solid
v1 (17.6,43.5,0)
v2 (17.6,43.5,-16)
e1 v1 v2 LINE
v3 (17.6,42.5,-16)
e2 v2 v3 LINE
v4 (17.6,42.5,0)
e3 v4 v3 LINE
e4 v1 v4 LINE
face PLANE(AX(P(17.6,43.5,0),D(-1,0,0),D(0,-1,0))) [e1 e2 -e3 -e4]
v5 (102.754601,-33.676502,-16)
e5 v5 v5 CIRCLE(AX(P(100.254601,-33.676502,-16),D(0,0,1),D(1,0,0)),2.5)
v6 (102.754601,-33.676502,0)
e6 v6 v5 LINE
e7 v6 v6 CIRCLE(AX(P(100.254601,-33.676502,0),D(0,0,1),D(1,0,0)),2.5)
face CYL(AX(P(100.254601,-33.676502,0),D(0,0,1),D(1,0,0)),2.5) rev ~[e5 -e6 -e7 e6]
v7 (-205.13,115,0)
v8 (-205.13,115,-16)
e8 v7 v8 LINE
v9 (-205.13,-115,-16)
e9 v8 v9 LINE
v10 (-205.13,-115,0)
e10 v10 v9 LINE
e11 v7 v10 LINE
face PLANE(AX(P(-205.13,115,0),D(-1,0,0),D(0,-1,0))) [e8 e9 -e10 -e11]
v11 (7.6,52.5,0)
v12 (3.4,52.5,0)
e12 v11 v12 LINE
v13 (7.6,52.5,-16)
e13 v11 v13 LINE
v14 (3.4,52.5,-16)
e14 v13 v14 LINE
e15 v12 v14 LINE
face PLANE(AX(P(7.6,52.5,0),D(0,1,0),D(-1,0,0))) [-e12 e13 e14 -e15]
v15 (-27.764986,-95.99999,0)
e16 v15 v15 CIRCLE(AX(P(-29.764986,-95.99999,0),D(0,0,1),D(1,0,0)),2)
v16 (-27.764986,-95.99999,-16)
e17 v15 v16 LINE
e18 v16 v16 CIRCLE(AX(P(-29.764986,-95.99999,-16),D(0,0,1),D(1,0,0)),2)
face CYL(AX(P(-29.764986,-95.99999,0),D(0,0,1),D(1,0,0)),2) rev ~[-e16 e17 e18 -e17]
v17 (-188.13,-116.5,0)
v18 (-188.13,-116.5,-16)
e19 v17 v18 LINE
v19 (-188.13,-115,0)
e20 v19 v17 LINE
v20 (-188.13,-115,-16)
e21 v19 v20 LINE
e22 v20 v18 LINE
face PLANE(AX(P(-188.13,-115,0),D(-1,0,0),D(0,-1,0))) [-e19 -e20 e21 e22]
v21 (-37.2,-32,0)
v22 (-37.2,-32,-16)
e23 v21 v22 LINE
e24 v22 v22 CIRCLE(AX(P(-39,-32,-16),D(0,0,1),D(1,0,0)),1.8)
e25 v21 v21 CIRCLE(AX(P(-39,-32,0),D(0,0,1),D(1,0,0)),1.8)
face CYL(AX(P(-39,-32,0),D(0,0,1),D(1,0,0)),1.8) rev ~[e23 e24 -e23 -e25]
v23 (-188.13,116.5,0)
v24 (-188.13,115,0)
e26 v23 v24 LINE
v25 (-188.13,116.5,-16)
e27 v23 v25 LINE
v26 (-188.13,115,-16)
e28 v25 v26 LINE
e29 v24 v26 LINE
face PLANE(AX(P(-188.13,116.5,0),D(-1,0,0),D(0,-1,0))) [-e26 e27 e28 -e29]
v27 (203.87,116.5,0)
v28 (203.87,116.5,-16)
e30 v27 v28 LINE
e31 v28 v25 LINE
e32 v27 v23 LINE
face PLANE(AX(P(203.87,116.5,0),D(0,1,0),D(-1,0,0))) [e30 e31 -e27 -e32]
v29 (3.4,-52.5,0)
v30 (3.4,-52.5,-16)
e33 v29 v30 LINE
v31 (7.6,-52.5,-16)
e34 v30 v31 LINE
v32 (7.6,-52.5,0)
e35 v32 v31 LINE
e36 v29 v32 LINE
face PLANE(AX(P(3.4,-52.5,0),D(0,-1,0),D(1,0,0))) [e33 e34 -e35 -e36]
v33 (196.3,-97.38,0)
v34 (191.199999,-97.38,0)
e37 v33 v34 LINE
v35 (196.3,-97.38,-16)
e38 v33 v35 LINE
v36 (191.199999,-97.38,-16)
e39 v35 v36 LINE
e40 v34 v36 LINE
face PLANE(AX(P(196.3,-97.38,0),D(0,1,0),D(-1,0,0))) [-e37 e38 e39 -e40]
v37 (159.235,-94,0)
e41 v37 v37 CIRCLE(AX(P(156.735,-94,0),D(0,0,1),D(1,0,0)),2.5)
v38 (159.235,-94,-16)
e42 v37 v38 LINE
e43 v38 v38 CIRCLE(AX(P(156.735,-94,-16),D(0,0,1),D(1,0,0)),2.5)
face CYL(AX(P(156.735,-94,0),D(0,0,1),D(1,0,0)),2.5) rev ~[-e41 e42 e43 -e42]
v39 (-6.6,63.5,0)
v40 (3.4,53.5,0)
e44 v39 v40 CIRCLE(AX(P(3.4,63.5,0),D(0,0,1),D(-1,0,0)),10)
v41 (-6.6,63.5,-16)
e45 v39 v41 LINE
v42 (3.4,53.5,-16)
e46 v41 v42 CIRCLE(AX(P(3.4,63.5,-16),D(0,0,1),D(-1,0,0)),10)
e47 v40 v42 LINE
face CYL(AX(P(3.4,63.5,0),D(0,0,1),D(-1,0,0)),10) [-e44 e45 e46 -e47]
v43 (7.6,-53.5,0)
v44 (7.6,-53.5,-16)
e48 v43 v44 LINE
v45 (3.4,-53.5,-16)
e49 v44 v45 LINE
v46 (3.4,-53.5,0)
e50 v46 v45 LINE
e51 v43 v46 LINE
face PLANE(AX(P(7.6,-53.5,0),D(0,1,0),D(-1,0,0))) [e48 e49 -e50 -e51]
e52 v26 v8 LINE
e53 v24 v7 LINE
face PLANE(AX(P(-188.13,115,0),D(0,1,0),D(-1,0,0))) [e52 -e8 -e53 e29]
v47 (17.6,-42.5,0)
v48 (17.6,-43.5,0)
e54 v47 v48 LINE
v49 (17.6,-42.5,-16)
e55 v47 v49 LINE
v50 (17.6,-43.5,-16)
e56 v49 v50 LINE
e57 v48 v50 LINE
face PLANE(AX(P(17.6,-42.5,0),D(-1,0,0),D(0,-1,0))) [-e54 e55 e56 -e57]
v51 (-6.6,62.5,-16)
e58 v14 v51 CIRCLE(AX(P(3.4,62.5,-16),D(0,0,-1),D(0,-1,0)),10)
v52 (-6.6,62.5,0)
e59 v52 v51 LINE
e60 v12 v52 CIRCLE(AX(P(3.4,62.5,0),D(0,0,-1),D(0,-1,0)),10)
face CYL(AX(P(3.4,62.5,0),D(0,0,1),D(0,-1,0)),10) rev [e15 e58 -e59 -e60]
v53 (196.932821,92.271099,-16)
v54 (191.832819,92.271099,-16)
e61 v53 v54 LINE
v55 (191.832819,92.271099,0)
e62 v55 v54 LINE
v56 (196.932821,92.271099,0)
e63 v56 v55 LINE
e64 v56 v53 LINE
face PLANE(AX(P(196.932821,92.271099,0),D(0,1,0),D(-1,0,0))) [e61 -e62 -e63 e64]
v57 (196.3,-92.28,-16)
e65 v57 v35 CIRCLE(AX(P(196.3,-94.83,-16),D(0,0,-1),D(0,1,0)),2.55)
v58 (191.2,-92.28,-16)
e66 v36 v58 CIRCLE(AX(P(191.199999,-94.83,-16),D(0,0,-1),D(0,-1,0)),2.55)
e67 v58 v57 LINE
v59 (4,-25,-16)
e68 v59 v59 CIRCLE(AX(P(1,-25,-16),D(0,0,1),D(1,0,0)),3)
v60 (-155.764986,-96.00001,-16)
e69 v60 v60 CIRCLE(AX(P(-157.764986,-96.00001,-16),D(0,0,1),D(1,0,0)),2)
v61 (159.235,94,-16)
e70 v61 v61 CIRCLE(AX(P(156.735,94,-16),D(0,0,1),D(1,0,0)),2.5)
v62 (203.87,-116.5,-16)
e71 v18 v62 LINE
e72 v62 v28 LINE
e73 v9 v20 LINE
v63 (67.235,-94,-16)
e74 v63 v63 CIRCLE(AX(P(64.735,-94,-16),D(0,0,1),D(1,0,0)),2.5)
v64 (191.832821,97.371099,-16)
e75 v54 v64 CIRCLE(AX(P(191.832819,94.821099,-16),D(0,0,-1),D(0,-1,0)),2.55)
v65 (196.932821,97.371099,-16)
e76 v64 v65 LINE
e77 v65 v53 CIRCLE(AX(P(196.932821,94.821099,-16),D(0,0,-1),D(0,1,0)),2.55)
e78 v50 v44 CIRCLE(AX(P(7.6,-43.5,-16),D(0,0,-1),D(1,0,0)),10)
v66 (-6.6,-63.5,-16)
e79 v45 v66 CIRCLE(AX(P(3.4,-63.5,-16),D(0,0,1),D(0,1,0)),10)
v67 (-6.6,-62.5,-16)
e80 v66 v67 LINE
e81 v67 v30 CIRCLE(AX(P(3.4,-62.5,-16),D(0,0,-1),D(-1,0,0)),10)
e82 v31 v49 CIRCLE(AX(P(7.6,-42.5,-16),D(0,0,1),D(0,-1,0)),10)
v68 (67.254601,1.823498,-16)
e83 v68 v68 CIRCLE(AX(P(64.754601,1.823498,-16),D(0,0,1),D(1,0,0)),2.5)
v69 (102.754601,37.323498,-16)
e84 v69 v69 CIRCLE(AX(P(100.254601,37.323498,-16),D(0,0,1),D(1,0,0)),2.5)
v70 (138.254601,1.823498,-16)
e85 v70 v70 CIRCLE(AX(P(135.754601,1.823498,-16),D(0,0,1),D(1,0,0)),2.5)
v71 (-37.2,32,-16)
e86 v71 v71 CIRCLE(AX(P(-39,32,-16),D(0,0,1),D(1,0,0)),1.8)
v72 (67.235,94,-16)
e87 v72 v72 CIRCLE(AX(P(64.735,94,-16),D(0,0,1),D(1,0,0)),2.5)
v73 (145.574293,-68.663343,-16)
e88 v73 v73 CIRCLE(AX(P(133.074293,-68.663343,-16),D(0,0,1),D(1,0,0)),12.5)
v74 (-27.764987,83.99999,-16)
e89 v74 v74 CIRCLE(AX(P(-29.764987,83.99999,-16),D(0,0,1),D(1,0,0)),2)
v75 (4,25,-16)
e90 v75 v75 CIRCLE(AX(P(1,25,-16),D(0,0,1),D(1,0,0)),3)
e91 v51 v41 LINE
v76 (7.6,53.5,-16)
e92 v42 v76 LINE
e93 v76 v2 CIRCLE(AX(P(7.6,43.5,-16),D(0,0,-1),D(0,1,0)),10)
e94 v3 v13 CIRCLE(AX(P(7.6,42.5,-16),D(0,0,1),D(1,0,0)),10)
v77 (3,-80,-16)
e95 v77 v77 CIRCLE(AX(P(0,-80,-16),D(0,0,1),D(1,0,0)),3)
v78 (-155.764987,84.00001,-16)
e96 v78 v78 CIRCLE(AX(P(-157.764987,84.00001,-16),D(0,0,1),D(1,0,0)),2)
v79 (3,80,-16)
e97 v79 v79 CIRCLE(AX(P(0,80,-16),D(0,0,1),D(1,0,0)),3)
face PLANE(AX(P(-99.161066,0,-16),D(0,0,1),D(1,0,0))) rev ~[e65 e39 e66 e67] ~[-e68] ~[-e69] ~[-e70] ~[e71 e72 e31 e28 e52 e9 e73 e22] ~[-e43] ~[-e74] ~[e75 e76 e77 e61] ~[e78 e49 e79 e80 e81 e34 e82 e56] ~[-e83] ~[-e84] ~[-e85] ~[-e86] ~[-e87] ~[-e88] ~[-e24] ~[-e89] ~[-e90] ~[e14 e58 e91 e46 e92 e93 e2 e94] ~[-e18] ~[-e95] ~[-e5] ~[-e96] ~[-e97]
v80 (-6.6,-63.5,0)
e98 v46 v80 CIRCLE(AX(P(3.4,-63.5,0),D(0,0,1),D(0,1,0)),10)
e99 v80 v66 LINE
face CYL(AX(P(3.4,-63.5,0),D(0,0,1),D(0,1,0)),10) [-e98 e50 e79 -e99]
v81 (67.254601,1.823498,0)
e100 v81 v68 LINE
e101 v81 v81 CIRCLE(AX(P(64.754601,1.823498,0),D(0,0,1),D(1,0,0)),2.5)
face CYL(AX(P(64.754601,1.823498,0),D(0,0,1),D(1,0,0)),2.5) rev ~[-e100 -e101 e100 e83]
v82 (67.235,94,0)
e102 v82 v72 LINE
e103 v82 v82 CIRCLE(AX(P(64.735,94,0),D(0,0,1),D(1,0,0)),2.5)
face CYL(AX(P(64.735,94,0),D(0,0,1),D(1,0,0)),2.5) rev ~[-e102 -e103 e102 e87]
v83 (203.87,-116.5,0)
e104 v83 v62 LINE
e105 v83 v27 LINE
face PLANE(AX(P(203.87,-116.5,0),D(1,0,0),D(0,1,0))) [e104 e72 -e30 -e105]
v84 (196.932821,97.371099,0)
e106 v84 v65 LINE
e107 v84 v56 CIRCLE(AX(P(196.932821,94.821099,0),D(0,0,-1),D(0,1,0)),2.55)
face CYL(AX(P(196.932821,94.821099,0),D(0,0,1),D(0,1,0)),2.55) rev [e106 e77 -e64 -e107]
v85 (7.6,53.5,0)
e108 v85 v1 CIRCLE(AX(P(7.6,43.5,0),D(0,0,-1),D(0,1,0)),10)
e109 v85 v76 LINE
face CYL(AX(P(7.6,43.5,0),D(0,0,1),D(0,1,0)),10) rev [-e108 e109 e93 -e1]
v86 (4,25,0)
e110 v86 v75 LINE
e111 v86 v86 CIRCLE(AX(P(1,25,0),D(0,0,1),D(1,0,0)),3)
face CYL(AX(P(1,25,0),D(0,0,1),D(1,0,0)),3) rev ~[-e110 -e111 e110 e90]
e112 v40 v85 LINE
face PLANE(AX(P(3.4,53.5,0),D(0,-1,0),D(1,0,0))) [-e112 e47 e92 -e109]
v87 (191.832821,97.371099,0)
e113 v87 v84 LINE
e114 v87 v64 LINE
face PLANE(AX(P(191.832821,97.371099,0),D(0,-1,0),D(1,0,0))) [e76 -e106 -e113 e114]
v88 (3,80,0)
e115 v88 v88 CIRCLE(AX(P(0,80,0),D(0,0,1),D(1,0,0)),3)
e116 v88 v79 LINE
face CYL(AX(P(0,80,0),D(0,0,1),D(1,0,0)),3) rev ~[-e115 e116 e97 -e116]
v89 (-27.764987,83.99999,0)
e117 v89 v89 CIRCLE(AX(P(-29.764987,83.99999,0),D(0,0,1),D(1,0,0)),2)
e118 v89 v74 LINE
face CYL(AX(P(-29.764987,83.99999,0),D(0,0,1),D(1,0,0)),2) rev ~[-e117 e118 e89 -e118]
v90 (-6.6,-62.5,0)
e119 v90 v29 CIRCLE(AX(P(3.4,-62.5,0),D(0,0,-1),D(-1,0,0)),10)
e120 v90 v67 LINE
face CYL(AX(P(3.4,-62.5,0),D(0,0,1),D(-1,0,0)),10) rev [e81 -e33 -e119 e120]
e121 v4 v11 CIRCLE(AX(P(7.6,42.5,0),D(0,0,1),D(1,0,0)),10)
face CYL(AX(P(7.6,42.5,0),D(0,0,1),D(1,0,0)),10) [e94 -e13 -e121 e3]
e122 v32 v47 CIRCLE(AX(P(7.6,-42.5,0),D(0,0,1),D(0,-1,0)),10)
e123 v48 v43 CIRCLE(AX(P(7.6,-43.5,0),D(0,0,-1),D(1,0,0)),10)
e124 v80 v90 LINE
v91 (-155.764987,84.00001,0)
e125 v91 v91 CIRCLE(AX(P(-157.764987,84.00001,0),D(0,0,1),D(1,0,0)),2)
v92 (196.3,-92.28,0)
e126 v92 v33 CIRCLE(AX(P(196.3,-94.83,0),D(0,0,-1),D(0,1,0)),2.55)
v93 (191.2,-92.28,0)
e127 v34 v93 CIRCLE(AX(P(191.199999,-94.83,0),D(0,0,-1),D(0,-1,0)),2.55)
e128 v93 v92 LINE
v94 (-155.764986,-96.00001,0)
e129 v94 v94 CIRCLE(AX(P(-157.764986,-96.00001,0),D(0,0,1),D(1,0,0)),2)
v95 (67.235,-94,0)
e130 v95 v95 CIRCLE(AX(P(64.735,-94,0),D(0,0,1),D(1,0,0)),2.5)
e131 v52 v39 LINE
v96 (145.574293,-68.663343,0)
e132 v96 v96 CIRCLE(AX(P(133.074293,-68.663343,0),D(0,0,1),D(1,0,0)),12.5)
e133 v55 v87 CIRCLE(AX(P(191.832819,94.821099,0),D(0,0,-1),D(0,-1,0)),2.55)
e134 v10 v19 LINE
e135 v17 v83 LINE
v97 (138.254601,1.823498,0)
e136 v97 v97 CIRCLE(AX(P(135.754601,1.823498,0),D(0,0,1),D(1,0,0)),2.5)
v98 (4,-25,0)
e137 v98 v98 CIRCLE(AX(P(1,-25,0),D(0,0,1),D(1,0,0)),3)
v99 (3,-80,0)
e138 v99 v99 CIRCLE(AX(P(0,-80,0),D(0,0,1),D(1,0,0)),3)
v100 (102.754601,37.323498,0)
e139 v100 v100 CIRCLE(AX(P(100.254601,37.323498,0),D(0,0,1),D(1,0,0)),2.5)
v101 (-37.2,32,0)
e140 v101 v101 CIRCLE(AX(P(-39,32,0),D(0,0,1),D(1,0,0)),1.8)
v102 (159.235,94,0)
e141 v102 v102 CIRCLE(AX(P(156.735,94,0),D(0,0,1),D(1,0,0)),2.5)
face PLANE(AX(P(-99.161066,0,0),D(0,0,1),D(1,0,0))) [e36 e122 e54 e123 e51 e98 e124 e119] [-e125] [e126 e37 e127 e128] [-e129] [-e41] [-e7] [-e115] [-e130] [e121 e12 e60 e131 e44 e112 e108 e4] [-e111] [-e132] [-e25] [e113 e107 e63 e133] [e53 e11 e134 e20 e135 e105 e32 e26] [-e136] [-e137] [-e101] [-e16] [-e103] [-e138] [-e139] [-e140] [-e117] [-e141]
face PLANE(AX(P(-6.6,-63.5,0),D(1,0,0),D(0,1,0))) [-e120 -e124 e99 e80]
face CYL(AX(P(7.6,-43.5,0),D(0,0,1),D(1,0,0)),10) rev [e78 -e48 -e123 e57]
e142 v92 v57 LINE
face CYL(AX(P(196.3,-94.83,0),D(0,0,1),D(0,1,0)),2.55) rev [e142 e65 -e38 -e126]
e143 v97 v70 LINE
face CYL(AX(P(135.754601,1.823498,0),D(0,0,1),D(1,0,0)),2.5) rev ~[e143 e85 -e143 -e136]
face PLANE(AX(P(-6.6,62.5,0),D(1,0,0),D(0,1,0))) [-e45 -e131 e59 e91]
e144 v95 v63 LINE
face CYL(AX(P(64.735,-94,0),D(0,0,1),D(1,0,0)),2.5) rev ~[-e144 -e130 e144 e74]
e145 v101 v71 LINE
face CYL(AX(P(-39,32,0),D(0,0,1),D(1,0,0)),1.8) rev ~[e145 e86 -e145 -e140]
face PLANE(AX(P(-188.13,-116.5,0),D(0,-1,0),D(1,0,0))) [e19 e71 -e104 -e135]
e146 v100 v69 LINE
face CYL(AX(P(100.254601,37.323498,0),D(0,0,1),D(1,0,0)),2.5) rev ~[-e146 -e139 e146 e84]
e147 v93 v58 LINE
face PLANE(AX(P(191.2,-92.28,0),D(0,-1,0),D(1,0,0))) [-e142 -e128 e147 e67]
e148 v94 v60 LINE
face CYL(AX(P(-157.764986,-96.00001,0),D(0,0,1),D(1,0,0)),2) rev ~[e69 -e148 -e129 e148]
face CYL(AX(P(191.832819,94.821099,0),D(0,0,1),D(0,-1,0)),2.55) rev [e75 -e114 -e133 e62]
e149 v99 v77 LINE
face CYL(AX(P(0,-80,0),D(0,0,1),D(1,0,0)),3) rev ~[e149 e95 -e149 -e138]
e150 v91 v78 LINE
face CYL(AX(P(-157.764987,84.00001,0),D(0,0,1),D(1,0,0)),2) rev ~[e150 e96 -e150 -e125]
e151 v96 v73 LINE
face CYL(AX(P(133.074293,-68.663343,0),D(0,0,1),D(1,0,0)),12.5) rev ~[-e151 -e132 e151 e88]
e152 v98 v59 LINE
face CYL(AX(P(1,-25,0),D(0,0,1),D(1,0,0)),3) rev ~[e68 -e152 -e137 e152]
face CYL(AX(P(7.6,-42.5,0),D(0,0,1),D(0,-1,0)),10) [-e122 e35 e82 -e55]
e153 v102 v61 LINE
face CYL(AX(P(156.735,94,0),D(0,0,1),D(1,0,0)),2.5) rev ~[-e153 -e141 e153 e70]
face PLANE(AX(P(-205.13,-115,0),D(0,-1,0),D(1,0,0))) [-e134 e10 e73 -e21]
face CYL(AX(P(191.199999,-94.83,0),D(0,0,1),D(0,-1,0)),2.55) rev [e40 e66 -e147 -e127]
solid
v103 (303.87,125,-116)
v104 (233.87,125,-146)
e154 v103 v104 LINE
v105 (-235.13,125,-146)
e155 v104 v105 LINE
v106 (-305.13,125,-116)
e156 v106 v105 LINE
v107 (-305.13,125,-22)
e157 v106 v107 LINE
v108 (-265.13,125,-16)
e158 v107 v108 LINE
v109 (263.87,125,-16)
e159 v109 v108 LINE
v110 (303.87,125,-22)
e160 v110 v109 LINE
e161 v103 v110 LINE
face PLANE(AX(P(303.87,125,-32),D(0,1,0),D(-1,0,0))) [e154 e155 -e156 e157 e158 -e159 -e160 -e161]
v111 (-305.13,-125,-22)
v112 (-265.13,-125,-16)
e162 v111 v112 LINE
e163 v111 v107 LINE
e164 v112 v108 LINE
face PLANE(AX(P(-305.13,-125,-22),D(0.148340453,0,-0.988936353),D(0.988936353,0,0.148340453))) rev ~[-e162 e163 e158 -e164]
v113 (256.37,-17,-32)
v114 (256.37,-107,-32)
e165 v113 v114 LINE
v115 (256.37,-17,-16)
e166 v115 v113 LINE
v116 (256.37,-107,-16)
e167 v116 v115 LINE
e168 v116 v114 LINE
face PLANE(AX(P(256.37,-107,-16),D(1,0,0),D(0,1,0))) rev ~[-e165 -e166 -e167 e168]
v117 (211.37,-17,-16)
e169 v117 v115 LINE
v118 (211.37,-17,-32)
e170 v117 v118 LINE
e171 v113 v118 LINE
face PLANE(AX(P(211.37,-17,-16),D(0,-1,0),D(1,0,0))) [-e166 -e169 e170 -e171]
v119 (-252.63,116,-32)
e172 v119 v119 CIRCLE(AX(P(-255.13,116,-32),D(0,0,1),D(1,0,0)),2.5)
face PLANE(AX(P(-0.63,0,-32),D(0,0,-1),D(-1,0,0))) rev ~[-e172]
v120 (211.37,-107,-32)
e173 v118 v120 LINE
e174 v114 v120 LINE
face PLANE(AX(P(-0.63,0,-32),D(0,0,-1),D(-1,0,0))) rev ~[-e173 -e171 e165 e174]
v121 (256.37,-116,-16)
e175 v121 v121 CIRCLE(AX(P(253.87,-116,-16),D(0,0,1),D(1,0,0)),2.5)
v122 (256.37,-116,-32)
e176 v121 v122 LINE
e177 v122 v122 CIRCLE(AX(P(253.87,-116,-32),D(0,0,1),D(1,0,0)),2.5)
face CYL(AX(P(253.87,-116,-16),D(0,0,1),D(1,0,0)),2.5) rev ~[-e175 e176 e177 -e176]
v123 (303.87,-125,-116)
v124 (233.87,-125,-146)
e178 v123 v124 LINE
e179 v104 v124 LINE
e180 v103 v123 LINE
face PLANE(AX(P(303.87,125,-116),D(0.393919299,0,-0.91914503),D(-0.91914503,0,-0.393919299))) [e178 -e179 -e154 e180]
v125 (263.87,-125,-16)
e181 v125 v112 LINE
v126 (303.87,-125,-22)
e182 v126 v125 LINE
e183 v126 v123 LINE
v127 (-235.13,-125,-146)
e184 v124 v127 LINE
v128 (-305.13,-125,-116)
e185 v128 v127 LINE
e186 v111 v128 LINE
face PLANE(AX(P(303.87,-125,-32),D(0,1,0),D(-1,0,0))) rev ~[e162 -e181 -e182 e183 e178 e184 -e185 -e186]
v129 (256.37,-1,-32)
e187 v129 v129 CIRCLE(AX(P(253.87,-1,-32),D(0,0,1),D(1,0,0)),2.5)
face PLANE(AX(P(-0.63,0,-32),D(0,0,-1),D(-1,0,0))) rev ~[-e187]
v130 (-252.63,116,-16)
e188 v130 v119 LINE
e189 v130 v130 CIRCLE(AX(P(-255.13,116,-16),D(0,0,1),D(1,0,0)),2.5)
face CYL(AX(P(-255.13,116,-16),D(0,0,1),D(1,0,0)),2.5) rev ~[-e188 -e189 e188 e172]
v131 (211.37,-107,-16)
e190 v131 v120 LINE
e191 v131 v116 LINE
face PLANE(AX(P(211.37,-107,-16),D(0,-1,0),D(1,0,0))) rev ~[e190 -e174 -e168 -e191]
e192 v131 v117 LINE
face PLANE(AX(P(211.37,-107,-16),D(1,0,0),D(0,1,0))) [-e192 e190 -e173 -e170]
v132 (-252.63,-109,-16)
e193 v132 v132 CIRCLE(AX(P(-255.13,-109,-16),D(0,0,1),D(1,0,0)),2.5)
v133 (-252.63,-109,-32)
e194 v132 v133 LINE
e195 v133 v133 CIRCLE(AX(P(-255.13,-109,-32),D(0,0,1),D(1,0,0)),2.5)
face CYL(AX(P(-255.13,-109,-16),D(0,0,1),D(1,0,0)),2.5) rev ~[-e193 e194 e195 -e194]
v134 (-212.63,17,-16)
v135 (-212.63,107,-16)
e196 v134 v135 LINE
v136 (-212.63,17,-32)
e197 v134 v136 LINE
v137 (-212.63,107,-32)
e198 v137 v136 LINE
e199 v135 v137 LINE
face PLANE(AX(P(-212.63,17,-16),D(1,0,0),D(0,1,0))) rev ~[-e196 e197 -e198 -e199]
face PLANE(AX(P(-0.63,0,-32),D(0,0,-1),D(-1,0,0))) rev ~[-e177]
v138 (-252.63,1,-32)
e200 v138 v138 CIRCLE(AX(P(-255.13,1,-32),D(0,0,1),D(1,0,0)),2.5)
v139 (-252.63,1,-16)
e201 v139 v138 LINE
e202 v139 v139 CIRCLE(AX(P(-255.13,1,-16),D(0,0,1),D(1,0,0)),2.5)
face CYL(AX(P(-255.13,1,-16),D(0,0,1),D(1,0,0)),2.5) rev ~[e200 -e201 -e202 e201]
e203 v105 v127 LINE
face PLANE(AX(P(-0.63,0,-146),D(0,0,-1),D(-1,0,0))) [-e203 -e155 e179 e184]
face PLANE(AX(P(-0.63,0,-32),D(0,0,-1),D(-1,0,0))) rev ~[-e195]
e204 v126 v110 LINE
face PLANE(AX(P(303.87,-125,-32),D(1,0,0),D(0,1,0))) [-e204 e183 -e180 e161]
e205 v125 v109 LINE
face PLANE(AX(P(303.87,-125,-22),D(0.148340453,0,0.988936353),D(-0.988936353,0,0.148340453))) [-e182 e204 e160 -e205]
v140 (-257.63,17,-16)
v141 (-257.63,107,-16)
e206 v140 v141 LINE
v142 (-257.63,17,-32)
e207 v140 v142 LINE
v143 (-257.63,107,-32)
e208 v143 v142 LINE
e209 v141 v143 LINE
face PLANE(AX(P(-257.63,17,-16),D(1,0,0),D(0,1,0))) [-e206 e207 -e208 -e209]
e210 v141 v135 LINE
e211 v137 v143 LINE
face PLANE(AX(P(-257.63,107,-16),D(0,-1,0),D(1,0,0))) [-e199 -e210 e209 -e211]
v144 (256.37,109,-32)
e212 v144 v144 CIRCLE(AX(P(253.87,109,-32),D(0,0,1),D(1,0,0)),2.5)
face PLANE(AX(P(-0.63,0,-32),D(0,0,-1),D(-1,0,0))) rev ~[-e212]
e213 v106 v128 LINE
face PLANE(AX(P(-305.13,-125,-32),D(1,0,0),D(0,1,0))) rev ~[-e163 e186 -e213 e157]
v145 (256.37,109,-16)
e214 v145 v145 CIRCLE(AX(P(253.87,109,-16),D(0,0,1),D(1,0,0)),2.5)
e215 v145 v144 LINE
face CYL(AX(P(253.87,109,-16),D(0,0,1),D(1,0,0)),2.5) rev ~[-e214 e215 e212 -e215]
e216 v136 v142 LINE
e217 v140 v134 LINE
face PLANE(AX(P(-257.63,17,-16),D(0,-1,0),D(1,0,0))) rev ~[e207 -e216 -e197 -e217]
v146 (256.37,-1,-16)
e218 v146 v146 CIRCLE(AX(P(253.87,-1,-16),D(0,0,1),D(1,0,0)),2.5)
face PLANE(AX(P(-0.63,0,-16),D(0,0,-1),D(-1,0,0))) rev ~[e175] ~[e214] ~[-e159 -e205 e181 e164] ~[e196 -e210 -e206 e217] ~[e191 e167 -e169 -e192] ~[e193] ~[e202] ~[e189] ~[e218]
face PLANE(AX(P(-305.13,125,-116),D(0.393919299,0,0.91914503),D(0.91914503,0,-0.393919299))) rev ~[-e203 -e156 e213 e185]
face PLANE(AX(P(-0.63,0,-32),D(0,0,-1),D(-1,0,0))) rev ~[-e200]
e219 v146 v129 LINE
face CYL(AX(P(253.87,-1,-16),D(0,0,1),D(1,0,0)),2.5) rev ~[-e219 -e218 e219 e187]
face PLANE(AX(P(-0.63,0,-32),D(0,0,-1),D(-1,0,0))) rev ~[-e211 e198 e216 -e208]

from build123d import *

# Parameters (mm, degrees)
SKETCH_1_R          = 3
SKETCH_1_R_2        = 2
SKETCH_1_R_3        = 1.8
SKETCH_1_R_4        = 2.5
SKETCH_1_R_5        = 12.5
EXTRUDE_1_DEPTH     = 16
SKETCH_9_W          = 529
SKETCH_9_H          = 250
EXTRUDE_2_DEPTH     = 16
SKETCH_10_W         = 45
SKETCH_10_H         = 90
CUT_EXTRUDE_3_DEPTH = 17
EXTRUDE_3_DEPTH     = 250
SKETCH_13_R         = 2.5
CUT_EXTRUDE_4_DEPTH = 17
SKETCH_16_W         = 609
SKETCH_16_H         = 250
EXTRUDE_5_DEPTH     = 114
CUT_EXTRUDE_5_DEPTH = 251


with BuildPart() as part:
    # 草图1 → 凸台-拉伸1 (new body)
    with BuildSketch(Plane.XY):
        with BuildLine():
            Line((17.6, -42.5), (17.6, 42.5))
            ThreePointArc((17.6, 42.5), (14.671067812, 49.571067812), (7.6, 52.5))
            Line((7.6, 52.5), (3.4, 52.5))
            ThreePointArc((3.4, 52.5), (-3.671067812, 55.428932188), (-6.6, 62.5))
            Line((-6.6, 62.5), (-6.6, 116.5))
            Line((-6.6, 116.5), (-188.13, 116.5))
            Line((-188.13, 116.5), (-188.13, 115))
            Line((-188.13, 115), (-205.13, 115))
            Line((-205.13, 115), (-205.13, -115))
            Line((-205.13, -115), (-188.13, -115))
            Line((-188.13, -115), (-188.13, -116.5))
            Line((-188.13, -116.5), (-6.6, -116.5))
            Line((-6.6, -116.5), (-6.6, -62.5))
            ThreePointArc((-6.6, -62.5), (-3.671067812, -55.428932188), (3.4, -52.5))
            Line((3.4, -52.5), (7.6, -52.5))
            ThreePointArc((7.6, -52.5), (14.671067812, -49.571067812), (17.6, -42.5))
        make_face()
        with Locations((1, -25)):
            Circle(SKETCH_1_R, mode=Mode.SUBTRACT)
        with Locations((1, 25)):
            Circle(SKETCH_1_R, mode=Mode.SUBTRACT)
        with Locations((-29.764986182, -95.999990174)):
            Circle(SKETCH_1_R_2, mode=Mode.SUBTRACT)
        with Locations((-157.764986182, -96.000009826)):
            Circle(SKETCH_1_R_2, mode=Mode.SUBTRACT)
        with Locations((-157.764986689, 84.000009826)):
            Circle(SKETCH_1_R_2, mode=Mode.SUBTRACT)
        with Locations((-29.764986689, 83.999990174)):
            Circle(SKETCH_1_R_2, mode=Mode.SUBTRACT)
        with Locations((-39, 32)):
            Circle(SKETCH_1_R_3, mode=Mode.SUBTRACT)
        with Locations((-39, -32)):
            Circle(SKETCH_1_R_3, mode=Mode.SUBTRACT)
        with BuildLine():
            Line((203.87, 116.5), (-6.6, 116.5))
            Line((-6.6, 116.5), (-6.6, 63.5))
            ThreePointArc((-6.6, 63.5), (-3.671067812, 56.428932188), (3.4, 53.5))
            Line((3.4, 53.5), (7.6, 53.5))
            ThreePointArc((7.6, 53.5), (14.671067812, 50.571067812), (17.6, 43.5))
            Line((17.6, 43.5), (17.6, 42.5))
            Line((17.6, 42.5), (17.6, -42.5))
            Line((17.6, -42.5), (17.6, -43.5))
            ThreePointArc((17.6, -43.5), (14.671067812, -50.571067812), (7.6, -53.5))
            Line((7.6, -53.5), (3.4, -53.5))
            ThreePointArc((3.4, -53.5), (-3.671067812, -56.428932188), (-6.6, -63.5))
            Line((-6.6, -63.5), (-6.6, -116.5))
            Line((-6.6, -116.5), (203.87, -116.5))
            Line((203.87, -116.5), (203.87, 116.5))
        make_face()
        with Locations((64.735, -94)):
            Circle(SKETCH_1_R_4, mode=Mode.SUBTRACT)
        with Locations((0, -80)):
            Circle(SKETCH_1_R, mode=Mode.SUBTRACT)
        with Locations((156.735, -94)):
            Circle(SKETCH_1_R_4, mode=Mode.SUBTRACT)
        with BuildLine():
            Line((191.2, -92.28), (196.3, -92.28))
            ThreePointArc((196.3, -92.28), (198.85, -94.83), (196.3, -97.38))
            Line((196.3, -97.38), (191.199998923, -97.38))
            ThreePointArc((191.199998923, -97.38), (188.649998923, -94.829999461), (191.2, -92.28))
        make_face(mode=Mode.SUBTRACT)
        with Locations((133.074292684, -68.663342505)):
            Circle(SKETCH_1_R_5, mode=Mode.SUBTRACT)
        with Locations((100.254601456, -33.676502352)):
            Circle(SKETCH_1_R_4, mode=Mode.SUBTRACT)
        with Locations((64.754601456, 1.823497648)):
            Circle(SKETCH_1_R_4, mode=Mode.SUBTRACT)
        with Locations((100.254601456, 37.323497648)):
            Circle(SKETCH_1_R_4, mode=Mode.SUBTRACT)
        with Locations((135.754601456, 1.823497648)):
            Circle(SKETCH_1_R_4, mode=Mode.SUBTRACT)
        with Locations((0, 80)):
            Circle(SKETCH_1_R, mode=Mode.SUBTRACT)
        with Locations((64.735, 94)):
            Circle(SKETCH_1_R_4, mode=Mode.SUBTRACT)
        with Locations((156.735, 94)):
            Circle(SKETCH_1_R_4, mode=Mode.SUBTRACT)
        with BuildLine():
            Line((191.832821189, 97.371099069), (196.932821189, 97.371099069))
            ThreePointArc((196.932821189, 97.371099069), (199.482821189, 94.821099069), (196.932821189, 92.271099069))
            Line((196.932821189, 92.271099069), (191.832818782, 92.271099069))
            ThreePointArc((191.832818782, 92.271099069), (189.282818782, 94.821100273), (191.832821189, 97.371099069))
        make_face(mode=Mode.SUBTRACT)
    extrude(amount=-EXTRUDE_1_DEPTH)


with BuildPart() as body_2:
    # 草图9 → 凸台-拉伸2 (new body)
    with BuildSketch(Plane(origin=(0, 0, -16), x_dir=(-1, 0, 0), z_dir=(0, 0, -1))):
        with Locations((0.63, 0)):
            Rectangle(SKETCH_9_W, SKETCH_9_H)
    extrude(amount=EXTRUDE_2_DEPTH)

    # 草图10 → 切除-拉伸3 (cut, through all)
    with BuildSketch(Plane.XY.offset(-16)):
        with Locations((-235.13, 62)):
            Rectangle(SKETCH_10_W, SKETCH_10_H)
        with Locations((233.87, -62)):
            Rectangle(SKETCH_10_W, SKETCH_10_H)
    extrude(amount=-CUT_EXTRUDE_3_DEPTH, mode=Mode.SUBTRACT)

    # 草图12 → 凸台-拉伸3 (add)
    with BuildSketch(Plane.XZ.offset(125)):
        Polygon((263.87, -32), (303.87, -32), (303.87, -22), (263.87, -16), align=None)
        Polygon((-265.13, -32), (-305.13, -32), (-305.13, -22), (-265.13, -16), align=None)
    extrude(amount=-EXTRUDE_3_DEPTH)

    # 草图13 → 切除-拉伸4 (cut, through all)
    with BuildSketch(Plane.XY.offset(-16)):
        with Locations((253.87, 109)):
            Circle(SKETCH_13_R)
        with Locations((253.87, -1)):
            Circle(SKETCH_13_R)
        with Locations((-255.13, 1)):
            Circle(SKETCH_13_R)
        with Locations((-255.13, -109)):
            Circle(SKETCH_13_R)
        with Locations((-255.13, 116)):
            Circle(SKETCH_13_R)
        with Locations((253.87, -116)):
            Circle(SKETCH_13_R)
    extrude(amount=-CUT_EXTRUDE_4_DEPTH, mode=Mode.SUBTRACT)

    # 草图16 → 凸台-拉伸5 (add)
    with BuildSketch(Plane(origin=(0, 0, -32), x_dir=(-1, 0, 0), z_dir=(0, 0, -1))):
        with Locations((0.63, 0)):
            Rectangle(SKETCH_16_W, SKETCH_16_H)
    extrude(amount=EXTRUDE_5_DEPTH)

    # 草图17 → 切除-拉伸5 (cut, through all)
    with BuildSketch(Plane(origin=(0, 125, 0), x_dir=(1, 0, 0), z_dir=(0, 1, 0))):
        Polygon((303.87, 116), (233.87, 146), (303.87, 146), align=None)
        Polygon((-305.13, 146), (-305.13, 116), (-235.13, 146), align=None)
    extrude(amount=-CUT_EXTRUDE_5_DEPTH, mode=Mode.SUBTRACT)


solid = Compound([part.part, body_2.part])
